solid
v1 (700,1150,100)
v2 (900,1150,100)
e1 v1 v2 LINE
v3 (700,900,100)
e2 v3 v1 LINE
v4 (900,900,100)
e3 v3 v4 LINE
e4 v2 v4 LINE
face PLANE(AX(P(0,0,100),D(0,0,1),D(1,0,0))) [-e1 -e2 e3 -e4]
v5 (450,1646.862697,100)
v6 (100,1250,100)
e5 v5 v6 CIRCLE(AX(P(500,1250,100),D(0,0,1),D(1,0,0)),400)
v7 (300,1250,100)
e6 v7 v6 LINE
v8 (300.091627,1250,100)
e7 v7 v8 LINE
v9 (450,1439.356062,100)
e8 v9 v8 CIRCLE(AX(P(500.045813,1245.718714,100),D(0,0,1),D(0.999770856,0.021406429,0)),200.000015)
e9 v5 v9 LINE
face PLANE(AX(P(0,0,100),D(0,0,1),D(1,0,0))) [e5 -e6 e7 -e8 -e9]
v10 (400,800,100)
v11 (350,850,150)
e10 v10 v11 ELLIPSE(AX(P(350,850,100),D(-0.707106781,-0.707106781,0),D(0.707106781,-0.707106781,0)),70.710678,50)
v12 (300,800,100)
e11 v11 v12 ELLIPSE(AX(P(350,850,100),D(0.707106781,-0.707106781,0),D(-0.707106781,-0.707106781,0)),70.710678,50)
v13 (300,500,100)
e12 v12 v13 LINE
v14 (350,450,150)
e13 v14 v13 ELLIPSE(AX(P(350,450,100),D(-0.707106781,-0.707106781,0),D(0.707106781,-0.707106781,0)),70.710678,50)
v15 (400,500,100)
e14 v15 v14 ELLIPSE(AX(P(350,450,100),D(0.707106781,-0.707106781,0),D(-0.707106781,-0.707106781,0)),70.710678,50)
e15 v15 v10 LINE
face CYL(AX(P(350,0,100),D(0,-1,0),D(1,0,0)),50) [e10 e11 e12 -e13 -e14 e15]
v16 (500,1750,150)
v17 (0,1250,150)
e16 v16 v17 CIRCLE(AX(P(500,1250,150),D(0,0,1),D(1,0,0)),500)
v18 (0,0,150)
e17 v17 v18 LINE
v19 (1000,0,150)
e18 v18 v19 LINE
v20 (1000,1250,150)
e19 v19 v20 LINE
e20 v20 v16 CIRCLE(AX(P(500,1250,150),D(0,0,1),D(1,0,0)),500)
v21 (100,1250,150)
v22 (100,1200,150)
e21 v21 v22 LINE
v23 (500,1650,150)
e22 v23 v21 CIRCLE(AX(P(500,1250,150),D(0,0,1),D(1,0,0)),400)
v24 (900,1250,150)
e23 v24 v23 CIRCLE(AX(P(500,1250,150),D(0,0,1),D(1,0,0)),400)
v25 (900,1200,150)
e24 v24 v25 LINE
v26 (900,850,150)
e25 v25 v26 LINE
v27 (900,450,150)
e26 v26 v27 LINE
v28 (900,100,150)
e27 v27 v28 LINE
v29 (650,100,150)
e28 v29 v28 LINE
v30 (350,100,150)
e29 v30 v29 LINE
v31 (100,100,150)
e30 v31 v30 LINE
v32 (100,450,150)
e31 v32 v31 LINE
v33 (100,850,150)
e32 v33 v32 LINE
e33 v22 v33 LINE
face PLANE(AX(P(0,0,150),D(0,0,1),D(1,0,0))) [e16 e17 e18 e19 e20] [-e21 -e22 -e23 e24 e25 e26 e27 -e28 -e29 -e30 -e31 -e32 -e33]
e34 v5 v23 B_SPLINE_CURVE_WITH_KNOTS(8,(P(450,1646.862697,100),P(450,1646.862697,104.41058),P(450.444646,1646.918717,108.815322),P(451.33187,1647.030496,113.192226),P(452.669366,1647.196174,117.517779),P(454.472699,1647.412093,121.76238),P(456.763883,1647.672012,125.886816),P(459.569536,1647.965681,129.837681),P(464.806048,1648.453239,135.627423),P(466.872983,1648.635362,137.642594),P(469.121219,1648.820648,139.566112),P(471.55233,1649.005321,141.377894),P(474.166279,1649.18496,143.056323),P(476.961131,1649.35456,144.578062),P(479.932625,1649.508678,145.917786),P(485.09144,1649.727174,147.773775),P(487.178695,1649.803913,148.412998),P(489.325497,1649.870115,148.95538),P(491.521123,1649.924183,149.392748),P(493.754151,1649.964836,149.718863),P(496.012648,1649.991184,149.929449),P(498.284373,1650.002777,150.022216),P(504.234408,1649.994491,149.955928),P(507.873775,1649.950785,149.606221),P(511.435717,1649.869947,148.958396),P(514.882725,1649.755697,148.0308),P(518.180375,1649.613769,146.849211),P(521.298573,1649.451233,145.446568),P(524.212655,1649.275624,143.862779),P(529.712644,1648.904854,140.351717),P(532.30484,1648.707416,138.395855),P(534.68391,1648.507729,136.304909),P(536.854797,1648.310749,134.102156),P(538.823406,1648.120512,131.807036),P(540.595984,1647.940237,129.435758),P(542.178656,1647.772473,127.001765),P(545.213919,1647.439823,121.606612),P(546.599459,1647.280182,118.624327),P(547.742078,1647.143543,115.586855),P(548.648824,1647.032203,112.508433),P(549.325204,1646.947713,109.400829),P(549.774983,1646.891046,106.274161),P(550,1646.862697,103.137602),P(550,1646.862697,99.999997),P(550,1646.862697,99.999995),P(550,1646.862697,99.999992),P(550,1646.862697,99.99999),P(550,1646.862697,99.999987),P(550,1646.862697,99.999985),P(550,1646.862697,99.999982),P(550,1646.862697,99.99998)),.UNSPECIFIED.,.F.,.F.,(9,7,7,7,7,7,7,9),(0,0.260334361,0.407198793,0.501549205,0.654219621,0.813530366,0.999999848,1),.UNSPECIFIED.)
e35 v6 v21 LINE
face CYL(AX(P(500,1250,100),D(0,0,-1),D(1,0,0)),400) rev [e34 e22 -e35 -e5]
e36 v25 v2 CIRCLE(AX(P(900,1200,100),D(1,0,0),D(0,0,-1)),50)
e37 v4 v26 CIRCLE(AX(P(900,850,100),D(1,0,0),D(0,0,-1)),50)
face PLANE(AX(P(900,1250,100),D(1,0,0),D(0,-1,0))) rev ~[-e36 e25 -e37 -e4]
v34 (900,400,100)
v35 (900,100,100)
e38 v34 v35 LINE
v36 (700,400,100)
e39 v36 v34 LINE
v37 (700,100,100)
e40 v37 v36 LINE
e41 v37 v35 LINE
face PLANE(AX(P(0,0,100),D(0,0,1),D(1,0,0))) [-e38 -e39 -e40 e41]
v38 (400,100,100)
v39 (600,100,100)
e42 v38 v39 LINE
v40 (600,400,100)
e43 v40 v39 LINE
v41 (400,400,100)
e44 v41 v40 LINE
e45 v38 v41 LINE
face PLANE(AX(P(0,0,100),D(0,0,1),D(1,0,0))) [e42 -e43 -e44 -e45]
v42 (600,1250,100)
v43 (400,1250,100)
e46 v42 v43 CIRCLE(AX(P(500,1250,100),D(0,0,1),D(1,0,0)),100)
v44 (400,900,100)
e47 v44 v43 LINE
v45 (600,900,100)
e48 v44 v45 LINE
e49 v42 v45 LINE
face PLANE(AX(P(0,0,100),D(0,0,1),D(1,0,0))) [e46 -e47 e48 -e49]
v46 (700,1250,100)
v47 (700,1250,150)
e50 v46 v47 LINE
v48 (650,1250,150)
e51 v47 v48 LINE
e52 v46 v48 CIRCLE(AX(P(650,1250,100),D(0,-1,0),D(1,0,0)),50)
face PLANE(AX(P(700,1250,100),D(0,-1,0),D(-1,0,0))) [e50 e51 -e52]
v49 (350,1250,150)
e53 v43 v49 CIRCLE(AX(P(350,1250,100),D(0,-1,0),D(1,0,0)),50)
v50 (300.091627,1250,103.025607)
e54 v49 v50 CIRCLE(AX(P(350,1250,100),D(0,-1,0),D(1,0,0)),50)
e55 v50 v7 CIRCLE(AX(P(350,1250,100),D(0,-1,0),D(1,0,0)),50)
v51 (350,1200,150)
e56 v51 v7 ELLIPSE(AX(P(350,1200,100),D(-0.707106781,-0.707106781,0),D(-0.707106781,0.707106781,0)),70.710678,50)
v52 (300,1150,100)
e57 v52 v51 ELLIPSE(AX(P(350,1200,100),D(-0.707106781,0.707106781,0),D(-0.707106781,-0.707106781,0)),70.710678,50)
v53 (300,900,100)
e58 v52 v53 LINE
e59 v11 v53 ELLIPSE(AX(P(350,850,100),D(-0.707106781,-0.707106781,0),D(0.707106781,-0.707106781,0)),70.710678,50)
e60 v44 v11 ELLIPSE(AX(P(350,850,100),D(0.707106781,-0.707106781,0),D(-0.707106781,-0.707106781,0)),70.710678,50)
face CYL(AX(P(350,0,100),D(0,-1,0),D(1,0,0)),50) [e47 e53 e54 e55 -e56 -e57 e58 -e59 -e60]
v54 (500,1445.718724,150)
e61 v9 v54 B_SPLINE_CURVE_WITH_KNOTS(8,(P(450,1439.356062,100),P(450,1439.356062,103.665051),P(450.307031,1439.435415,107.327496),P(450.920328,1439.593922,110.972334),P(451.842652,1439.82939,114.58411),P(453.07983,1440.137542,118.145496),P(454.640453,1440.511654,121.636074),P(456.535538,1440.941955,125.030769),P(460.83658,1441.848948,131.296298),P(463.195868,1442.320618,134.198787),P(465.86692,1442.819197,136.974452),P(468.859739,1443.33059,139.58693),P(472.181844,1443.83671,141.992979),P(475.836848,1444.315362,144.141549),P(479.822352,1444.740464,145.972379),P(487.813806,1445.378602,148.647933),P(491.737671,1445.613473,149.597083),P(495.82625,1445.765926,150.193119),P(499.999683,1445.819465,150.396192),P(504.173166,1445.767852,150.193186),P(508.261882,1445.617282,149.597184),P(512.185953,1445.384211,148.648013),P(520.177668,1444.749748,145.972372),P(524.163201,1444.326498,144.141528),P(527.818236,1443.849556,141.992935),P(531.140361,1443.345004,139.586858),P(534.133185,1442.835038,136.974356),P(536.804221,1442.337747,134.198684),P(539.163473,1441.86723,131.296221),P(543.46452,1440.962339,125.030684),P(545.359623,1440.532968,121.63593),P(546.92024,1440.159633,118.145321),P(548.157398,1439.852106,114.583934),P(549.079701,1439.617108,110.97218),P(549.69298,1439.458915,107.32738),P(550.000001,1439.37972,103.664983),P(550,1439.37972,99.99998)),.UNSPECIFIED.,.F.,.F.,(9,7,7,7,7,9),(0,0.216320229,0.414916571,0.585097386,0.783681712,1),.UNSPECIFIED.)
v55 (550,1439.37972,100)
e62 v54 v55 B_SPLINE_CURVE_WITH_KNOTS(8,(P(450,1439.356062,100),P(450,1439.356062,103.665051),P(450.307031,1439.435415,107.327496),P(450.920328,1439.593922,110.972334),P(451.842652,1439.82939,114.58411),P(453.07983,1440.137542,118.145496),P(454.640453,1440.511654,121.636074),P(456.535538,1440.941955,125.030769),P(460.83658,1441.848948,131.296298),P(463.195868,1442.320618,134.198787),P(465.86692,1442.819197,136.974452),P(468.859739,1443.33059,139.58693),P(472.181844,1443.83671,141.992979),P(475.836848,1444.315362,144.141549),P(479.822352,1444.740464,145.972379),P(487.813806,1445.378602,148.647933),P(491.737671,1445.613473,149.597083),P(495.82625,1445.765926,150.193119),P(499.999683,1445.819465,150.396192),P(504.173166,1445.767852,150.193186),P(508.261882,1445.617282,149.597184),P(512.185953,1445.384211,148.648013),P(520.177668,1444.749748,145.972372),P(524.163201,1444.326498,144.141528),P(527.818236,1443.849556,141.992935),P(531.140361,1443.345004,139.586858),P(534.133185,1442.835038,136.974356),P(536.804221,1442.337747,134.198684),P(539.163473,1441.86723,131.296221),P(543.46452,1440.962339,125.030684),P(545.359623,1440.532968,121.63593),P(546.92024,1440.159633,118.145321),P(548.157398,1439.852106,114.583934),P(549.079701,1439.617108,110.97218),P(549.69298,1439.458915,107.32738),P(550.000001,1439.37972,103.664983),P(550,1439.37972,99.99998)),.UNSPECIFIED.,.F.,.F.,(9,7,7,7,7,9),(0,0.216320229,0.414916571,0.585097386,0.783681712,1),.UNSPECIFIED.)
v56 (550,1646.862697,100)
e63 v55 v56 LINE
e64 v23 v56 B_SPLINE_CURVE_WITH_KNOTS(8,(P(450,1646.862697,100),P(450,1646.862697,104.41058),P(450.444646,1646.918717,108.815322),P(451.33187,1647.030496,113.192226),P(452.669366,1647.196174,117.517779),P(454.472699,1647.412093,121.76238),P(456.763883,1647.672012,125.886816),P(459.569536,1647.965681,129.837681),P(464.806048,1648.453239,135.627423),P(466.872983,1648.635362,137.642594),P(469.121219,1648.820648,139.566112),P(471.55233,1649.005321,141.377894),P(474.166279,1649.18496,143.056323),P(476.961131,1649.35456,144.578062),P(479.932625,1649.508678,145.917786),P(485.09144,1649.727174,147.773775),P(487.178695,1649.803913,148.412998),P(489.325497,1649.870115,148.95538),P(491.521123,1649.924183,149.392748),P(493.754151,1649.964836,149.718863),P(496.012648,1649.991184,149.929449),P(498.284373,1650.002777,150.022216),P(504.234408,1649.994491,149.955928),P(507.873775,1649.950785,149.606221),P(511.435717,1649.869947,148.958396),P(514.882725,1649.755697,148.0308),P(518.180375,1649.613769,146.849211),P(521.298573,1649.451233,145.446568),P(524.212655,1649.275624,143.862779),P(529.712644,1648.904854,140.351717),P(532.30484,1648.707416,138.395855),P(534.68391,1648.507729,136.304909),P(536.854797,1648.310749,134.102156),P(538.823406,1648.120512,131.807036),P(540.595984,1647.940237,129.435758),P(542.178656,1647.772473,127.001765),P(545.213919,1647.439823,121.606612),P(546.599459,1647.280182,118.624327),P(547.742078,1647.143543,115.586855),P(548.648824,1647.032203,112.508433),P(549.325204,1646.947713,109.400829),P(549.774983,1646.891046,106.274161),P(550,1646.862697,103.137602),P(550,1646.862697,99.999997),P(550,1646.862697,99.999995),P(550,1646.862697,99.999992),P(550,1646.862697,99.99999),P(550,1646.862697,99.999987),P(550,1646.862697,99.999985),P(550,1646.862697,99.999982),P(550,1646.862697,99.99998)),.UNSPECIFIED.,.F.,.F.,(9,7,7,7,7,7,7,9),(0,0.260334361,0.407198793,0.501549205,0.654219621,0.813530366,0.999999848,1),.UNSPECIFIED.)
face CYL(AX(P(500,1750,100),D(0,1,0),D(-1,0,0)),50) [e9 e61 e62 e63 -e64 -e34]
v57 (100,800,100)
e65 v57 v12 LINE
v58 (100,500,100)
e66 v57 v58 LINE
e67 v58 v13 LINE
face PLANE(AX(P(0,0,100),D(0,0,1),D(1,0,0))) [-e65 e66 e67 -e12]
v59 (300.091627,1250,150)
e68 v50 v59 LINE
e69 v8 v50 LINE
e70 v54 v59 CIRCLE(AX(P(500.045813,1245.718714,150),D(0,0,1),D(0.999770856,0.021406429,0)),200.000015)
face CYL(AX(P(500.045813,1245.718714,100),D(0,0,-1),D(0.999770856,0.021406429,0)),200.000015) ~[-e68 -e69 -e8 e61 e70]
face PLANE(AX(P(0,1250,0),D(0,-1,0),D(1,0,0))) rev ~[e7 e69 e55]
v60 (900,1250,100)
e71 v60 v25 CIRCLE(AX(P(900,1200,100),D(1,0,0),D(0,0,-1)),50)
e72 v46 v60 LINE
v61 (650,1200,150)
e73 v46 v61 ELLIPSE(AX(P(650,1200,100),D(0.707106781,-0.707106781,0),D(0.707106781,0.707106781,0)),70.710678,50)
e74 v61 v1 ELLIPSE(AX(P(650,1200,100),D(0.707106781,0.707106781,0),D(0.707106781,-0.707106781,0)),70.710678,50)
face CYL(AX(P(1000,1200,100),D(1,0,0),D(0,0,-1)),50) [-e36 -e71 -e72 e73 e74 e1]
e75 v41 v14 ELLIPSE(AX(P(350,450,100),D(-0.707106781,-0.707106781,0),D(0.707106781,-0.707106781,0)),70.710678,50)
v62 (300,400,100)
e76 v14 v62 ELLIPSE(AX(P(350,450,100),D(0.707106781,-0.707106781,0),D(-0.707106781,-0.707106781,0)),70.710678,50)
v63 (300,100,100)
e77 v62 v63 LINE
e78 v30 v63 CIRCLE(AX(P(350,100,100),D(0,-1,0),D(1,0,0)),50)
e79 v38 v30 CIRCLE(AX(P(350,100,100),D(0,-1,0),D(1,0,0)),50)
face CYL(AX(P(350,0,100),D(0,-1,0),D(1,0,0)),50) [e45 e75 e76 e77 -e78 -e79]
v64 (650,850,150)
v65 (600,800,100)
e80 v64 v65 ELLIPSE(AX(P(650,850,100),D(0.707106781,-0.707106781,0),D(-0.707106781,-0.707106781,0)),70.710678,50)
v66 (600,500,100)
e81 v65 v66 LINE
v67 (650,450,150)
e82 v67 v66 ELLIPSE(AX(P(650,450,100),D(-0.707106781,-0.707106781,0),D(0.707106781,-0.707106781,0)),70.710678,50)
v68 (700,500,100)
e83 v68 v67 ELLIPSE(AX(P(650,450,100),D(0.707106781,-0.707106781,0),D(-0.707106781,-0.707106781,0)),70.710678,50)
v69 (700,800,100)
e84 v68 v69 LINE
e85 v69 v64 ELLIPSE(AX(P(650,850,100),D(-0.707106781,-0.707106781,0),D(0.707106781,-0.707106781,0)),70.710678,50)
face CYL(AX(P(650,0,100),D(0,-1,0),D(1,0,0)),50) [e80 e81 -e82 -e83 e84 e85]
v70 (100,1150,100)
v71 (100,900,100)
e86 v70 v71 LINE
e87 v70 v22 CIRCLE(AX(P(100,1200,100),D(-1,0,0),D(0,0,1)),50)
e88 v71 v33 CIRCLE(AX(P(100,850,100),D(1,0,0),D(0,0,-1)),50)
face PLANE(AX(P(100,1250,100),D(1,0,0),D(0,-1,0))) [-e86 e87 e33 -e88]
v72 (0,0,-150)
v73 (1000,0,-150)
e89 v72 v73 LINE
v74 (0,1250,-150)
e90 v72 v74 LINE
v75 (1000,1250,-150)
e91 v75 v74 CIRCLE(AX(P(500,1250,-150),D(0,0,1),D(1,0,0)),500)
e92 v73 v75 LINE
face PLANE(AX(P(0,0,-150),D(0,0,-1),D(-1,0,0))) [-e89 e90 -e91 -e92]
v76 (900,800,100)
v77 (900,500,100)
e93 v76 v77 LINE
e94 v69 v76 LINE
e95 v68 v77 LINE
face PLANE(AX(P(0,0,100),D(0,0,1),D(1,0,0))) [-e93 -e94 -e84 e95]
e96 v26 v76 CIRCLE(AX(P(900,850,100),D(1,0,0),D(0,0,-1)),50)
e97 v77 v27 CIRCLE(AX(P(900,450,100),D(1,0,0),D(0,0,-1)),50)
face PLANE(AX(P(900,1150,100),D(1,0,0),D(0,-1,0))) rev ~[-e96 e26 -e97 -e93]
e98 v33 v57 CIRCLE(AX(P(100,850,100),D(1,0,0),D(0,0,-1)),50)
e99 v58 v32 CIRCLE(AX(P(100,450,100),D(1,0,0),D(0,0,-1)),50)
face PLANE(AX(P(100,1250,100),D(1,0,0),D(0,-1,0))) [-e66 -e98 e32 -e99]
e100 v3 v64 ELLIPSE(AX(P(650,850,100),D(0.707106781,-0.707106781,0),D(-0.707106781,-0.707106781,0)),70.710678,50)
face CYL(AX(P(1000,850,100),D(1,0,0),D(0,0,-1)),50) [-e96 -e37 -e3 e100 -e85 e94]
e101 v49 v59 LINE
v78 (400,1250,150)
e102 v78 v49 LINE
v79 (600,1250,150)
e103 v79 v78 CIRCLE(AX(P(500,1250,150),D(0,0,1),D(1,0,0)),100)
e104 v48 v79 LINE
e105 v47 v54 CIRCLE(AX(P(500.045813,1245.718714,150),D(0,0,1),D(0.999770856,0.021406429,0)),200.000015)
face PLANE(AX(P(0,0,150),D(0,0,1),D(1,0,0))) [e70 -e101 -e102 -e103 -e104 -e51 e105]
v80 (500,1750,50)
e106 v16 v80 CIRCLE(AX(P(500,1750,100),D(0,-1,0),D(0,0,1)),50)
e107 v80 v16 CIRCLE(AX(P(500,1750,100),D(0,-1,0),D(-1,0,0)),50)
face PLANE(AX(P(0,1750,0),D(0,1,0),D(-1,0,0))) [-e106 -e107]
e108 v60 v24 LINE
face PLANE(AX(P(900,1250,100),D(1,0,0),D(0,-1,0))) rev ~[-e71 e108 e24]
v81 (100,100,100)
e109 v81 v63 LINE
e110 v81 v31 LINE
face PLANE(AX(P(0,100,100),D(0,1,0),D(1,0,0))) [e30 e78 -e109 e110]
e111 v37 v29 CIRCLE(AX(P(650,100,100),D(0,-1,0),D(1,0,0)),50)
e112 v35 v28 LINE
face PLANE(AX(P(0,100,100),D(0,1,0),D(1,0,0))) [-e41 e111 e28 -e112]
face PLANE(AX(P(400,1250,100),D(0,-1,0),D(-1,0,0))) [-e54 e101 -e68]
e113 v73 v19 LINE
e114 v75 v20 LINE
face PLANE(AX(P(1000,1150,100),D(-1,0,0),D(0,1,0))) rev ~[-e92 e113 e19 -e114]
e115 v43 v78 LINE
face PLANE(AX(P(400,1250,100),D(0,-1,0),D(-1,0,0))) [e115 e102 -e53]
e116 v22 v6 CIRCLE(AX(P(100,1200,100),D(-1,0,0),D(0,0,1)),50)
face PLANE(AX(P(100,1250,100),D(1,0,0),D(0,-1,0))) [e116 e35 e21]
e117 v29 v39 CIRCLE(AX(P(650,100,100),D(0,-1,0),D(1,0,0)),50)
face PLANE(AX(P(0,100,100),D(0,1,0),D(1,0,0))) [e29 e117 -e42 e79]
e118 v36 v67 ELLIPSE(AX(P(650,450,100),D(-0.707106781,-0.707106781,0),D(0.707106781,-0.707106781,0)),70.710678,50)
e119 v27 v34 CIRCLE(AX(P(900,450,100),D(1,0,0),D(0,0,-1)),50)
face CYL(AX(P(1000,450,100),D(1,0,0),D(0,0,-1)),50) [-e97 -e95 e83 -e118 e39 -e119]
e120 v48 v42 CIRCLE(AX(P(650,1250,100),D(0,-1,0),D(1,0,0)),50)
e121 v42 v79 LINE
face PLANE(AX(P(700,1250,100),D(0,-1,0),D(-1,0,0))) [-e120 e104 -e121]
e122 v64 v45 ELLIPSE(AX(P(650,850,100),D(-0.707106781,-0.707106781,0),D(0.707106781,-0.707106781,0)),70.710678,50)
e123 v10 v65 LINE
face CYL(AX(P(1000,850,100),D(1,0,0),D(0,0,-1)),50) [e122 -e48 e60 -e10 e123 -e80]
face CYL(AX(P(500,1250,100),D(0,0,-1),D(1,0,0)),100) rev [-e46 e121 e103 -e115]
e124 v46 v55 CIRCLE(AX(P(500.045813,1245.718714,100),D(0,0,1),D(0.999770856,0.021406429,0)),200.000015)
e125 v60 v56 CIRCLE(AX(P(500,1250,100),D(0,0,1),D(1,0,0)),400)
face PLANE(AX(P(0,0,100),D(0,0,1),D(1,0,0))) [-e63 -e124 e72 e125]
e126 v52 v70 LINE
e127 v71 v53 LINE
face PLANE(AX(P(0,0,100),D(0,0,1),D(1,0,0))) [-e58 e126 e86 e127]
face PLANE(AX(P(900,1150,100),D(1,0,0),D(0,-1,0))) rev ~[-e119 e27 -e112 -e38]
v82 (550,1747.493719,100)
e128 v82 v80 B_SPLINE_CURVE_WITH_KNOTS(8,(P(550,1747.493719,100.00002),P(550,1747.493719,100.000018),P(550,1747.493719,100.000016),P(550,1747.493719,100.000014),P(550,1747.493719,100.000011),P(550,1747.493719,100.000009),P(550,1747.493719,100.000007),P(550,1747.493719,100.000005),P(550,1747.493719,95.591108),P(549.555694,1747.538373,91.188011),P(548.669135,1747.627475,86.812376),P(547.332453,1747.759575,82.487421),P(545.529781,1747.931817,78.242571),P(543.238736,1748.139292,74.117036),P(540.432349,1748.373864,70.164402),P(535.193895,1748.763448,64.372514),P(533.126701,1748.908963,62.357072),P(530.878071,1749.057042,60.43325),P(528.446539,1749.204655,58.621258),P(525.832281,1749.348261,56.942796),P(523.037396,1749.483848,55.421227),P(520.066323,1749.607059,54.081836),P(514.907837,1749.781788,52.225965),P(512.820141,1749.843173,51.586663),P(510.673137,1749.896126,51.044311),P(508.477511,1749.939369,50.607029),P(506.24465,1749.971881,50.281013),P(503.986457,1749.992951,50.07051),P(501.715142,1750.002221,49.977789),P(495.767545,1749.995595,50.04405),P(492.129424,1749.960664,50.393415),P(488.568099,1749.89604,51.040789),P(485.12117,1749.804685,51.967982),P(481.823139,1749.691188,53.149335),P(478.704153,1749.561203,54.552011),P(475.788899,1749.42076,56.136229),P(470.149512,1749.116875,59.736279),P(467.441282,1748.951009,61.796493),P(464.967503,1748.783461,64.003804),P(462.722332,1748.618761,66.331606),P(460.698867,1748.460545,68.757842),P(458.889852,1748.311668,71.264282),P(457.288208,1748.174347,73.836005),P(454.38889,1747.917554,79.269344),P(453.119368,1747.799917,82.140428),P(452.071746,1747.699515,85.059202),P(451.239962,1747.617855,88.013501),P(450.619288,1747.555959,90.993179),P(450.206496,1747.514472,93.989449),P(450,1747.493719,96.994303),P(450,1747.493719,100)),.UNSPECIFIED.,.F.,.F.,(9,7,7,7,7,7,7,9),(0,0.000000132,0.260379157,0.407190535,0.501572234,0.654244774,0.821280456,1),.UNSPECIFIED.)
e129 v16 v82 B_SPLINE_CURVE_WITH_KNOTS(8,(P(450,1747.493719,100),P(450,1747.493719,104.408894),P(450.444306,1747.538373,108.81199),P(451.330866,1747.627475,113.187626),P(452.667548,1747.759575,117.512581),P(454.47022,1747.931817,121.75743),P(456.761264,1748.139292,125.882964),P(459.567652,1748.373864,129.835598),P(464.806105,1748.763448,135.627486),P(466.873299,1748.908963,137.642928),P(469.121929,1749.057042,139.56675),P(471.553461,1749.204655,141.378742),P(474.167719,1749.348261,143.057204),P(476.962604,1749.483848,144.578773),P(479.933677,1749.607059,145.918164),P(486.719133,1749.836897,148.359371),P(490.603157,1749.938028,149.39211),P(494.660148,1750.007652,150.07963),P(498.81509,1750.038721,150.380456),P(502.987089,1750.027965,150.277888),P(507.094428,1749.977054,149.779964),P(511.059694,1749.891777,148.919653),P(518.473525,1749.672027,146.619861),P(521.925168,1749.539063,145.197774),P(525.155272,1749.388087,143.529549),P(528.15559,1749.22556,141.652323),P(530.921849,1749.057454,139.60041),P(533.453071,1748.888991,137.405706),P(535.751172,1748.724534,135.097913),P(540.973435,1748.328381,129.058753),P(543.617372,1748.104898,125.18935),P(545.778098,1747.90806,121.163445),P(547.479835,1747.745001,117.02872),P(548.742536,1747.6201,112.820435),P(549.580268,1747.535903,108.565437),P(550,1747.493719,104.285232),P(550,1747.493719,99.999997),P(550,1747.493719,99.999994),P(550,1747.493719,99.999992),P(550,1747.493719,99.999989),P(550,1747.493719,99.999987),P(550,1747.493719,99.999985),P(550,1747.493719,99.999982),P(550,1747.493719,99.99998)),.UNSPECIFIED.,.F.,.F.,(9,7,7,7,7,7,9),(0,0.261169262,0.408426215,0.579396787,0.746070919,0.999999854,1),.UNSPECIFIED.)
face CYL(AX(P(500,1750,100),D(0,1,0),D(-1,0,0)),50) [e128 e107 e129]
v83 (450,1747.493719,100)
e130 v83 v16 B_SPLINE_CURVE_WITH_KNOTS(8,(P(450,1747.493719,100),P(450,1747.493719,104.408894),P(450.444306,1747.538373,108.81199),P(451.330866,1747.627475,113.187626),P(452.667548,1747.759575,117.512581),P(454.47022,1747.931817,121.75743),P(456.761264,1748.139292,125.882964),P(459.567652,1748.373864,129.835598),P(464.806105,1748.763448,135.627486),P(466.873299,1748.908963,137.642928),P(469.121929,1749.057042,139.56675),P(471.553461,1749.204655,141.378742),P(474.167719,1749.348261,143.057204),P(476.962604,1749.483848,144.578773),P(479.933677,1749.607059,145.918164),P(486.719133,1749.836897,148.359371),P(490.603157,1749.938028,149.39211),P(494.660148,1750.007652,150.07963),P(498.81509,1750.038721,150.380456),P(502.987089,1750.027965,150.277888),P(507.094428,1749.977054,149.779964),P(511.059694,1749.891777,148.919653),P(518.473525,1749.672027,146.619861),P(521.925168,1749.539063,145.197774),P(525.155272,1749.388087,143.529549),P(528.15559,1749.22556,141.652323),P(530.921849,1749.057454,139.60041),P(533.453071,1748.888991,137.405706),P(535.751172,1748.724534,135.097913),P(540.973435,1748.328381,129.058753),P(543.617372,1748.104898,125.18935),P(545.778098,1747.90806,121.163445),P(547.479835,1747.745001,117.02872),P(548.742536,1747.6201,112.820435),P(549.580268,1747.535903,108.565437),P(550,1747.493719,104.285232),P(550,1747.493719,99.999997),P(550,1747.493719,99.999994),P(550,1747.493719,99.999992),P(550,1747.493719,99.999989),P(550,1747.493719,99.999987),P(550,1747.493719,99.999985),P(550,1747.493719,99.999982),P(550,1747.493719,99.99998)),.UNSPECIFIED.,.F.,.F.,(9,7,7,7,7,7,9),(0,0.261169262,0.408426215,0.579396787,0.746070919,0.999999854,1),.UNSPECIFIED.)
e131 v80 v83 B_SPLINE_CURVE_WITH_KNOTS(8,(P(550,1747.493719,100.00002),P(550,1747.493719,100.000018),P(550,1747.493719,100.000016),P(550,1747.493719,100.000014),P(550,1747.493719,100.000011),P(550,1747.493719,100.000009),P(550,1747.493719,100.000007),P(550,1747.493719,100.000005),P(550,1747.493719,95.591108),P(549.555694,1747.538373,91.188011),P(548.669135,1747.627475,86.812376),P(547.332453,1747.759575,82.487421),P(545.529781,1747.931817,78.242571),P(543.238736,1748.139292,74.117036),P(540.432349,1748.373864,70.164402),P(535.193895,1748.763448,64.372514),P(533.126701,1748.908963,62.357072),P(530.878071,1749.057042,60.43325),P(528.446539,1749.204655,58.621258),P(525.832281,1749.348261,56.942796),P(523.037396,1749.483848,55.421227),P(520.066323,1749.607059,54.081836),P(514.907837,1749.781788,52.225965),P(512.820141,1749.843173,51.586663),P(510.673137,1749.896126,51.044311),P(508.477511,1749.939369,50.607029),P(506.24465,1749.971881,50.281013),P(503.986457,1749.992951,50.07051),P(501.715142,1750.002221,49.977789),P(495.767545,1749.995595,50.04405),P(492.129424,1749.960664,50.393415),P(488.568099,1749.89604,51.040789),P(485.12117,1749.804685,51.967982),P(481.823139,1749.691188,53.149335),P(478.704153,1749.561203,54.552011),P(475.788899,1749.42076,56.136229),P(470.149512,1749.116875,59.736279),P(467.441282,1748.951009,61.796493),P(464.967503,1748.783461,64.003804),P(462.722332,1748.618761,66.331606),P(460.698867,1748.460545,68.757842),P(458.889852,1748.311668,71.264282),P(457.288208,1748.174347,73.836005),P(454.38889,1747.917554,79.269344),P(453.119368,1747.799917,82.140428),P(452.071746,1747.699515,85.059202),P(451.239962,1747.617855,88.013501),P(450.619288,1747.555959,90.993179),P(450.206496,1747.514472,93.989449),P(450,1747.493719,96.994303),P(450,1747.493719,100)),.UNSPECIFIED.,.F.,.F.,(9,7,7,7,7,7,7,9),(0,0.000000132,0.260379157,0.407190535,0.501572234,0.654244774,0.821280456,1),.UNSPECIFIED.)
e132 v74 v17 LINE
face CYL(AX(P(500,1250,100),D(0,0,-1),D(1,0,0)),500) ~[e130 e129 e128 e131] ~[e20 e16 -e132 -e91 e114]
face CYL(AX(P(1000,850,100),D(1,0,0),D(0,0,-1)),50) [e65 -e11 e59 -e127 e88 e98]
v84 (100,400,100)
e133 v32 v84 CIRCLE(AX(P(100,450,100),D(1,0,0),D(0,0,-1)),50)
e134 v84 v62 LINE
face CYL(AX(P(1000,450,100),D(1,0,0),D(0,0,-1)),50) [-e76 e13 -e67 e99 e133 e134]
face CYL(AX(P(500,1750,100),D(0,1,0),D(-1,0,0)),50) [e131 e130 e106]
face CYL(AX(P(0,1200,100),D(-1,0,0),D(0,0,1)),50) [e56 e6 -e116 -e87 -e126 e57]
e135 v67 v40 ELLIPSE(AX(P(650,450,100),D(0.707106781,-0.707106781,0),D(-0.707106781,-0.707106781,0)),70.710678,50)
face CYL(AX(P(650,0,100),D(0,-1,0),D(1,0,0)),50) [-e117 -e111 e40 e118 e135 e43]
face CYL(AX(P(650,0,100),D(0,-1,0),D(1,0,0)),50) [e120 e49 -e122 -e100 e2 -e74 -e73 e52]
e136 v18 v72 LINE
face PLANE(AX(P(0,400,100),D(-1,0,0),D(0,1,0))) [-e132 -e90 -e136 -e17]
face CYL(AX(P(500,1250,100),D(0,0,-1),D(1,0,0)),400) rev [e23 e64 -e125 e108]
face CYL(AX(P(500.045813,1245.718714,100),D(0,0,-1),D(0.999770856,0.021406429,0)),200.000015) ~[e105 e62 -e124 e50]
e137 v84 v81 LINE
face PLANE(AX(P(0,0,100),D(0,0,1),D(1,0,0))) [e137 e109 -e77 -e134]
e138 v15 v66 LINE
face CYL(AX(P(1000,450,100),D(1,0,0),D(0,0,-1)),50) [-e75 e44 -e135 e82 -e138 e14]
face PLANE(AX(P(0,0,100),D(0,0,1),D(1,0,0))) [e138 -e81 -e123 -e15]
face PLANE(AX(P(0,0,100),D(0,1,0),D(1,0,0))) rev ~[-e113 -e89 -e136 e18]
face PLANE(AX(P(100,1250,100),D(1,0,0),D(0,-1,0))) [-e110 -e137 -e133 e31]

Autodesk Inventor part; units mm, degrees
ref_plane "YZ Plane" through (0, 0, 0) normal (1, 0, 0) x (0, 1, 0)
ref_plane "XY Plane" through (0, 0, 0) normal (0, 0, 1) x (1, 0, 0)
sketch "Sketch1" plane through (0, 0, 0) normal (0, 0, 1) x (1, 0, 0)
  line L0 (0, 0) -> (1000, 0)
  line L1 (1000, 0) -> (1000, 1250)
  line L2 (1000, 1250) -> (0, 1250)
  line L3 (0, 1250) -> (0, 0)
  dimension "d0" = 1000
  dimension "d1" = 1250
extrude "Extrusion1" add sketch "Sketch1" along normal blind 100
sketch "Sketch2" plane through (0, 0, 0) normal (0, 0, -1) x (-1, 0, 0)
  line L0 (-1000, 1250) -> (0, 1250) projected
  circle A0 centre (-500, 1250) radius 500
  point P0 (0, 0)
  dimension "d4" = 1000
extrude "Extrusion2" add sketch "Sketch2" against normal blind 100 contours A0 L0 picked at (-386.6625, 1415.594)
sketch "Sketch3" plane through (0, 0, 0) normal (0, -1, 0) x (1, 0, 0)
  line L0 (0, 100) -> (1000, 100) projected
  circle A0 centre (350, 100) radius 50
  circle A1 centre (650, 100) radius 50
  line L1 (0, 0) -> (0, 100) projected
  line L2 (1000, 0) -> (1000, 100) projected
  point P0 (1000, 50)
  dimension "d7" = 100
  dimension "d8" = 100
  dimension "d9" = 350
  dimension "d10" = 350
extrude "Extrusion3" add sketch "Sketch3" against normal blind 1250
sketch "Sketch4" plane through (1000, 0, 100) normal (1, 0, 0) x (0, 0, -1)
  line L0 (0, 1250) -> (0, 0) projected
  circle A0 centre (0, 450) radius 50
  circle A1 centre (0, 850) radius 50
  line L1 (100, 0) -> (0, 0) projected
  line L2 (100, 1250) -> (0, 1250) projected
  dimension "d13" = 100
  dimension "d14" = 100
  dimension "d15" = 450
  dimension "d16" = 400
  dimension "d17" = 400
extrude "Extrusion4" add sketch "Sketch4" against normal blind 1000
sketch "Sketch5" plane through (0, 0, 100) normal (0, 0, 1) x (1, 0, 0)
  line L0 (700, 1250) -> (600, 1250) projected
  line L1 (400, 1250) -> (300, 1250) projected
  arc A0 (600, 1250) -> (400, 1250) centre (500, 1250) ccw
  arc A1 (700, 1250) -> (300.0458, 1245.6914) centre (500.0458, 1245.7187) ccw
  point P0 (0, 0)
  point P1 (300.0917, 1250)
  dimension "d20" = 100
  dimension "d21" = 200
extrude "Extrusion5" add sketch "Sketch5" along normal blind 50
sketch "Sketch6" plane through (1000, 0, 100) normal (1, 0, 0) x (0, 0, -1)
  line L0 (0, 900) -> (0, 1250) projected
  circle A0 centre (0, 1200) radius 50
  line L1 (100, 1250) -> (0, 1250) projected
  point P0 (100, 0)
  dimension "d24" = 100
  dimension "d25" = 50
extrude "Extrusion6" add sketch "Sketch6" against normal up to surface
sketch "Sketch7" plane through (0, 0, 0) normal (-1, 0, 0) x (0, 0, 1)
  line L0 (100, 900) -> (100, 1250) projected
  circle A0 centre (100, 1200) radius 50
  line L1 (0, 1250) -> (100, 1250) projected
  point P0 (0, 0)
  dimension "d28" = 100
  dimension "d29" = 50
extrude "Extrusion7" add sketch "Sketch7" against normal up to surface
ref_plane "Work Plane1" through (0, 1750, 0) normal (0, 1, 0) x (-1, 0, 0)
sketch "Sketch8" plane through (0, 1750, 0) normal (0, 1, 0) x (-1, 0, 0)
  line L0 (-400, 100) -> (-600, 100) projected
  circle A0 centre (-500, 100) radius 50
  point P0 (0, 0)
  dimension "d33" = 100
extrude "Extrusion8" add sketch "Sketch8" against normal up to surface
sketch "Sketch9" plane through (0, 0, 100) normal (0, 0, 1) x (1, 0, 0)
  line L0 (1000, 1150) -> (700, 1150) projected
  line L1 (900, 1150) -> (900, 902.0075)
  line L2 (1000, 900) -> (1000, 1150) projected
  line L3 (1000, 800) -> (700, 800) projected
  line L4 (900, 800) -> (900, 0)
  line L5 (0, 0) -> (1000, 0) projected
  line L6 (100, 0) -> (100, 1250)
  line L7 (0, 1250) -> (300, 1250) projected
  line L8 (0, 800) -> (0, 500) projected
  arc A0 (1000, 1250) -> (0, 1250) centre (500, 1250) ccw projected
  line L9 (0, 1250) -> (0, 0) projected
  line L10 (0, 1250) -> (0, 0)
  line L11 (700, 1250) -> (1000, 1250) projected
  line L12 (1000, 1250) -> (1000, 0)
  arc A1 (900, 1250) -> (100, 1250) centre (500, 1250) ccw
  point P0 (900, 1026.0038)
  point P1 (100, 625)
  dimension "d36" = 100
  dimension "d37" = 100
extrude "Extrusion9" add sketch "Sketch9" along normal blind 50 contours L11 A1 L7 A0
sketch "Sketch10" plane through (0, 0, 100) normal (0, 0, 1) x (1, 0, 0)
  arc A0 (900, 1250) -> (550, 1646.8627) centre (500, 1250) ccw projected
  line L0 (900, 1250) -> (900, 0)
  line L1 (1000, 0) -> (1000, 1250) projected
  line L2 (1000, 1250) -> (1000, 0)
  line L3 (1000, 1150) -> (700, 1150) projected
  line L4 (900, 1150) -> (1000, 1150)
  line L5 (0, 0) -> (1000, 0) projected
  line L6 (900, 0) -> (1000, 0)
extrude "Extrusion10" add sketch "Sketch10" along normal blind 50
sketch "Sketch11" plane through (0, 0, 100) normal (0, 0, 1) x (1, 0, 0)
  line L0 (100, 1250) -> (100, 0)
  line L1 (0, 0) -> (300, 0) projected
  line L2 (0, 0) -> (0, 1250)
  line L3 (0, 400) -> (0, 0) projected
  line L4 (0, 1250) -> (100, 1250)
  line L5 (0, 0) -> (100, 0)
extrude "Extrusion11" add sketch "Sketch11" along normal blind 50
sketch "Sketch12" plane through (0, 0, 100) normal (0, 0, 1) x (1, 0, 0)
  line L0 (700, 1250) -> (900, 1250) projected
  line L1 (900, 1250) -> (900, 1150)
  line L2 (900, 1150) -> (1000, 1150)
  line L3 (900, 1250) -> (1000, 1250) projected
  line L4 (1000, 1150) -> (1000, 1250)
  line L5 (1000, 1250) -> (900, 1250)
  point P0 (0, 0)
extrude "Extrusion12" add sketch "Sketch12" along normal blind 50
sketch "Sketch13" plane through (0, 0, 100) normal (0, 0, 1) x (1, 0, 0)
  line L0 (0, 1250) -> (0, 0) projected
  line L1 (0, 100) -> (1042, 100)
  line L2 (400, 0) -> (600, 0) projected
  line L3 (0, 0) -> (100, 0) projected
  line L4 (0, 100) -> (0, 0)
  line L5 (900, 0) -> (1000, 0) projected
  line L6 (0, 0) -> (1000, 0)
  line L7 (1000, 0) -> (1000, 100)
  line L8 (1000, 0) -> (1000, 1250) projected
  point P0 (500, 0)
  point P1 (521, 100)
  dimension "d46" = 100
extrude "Extrusion13" add sketch "Sketch13" along normal blind 50
sketch "Sketch14" plane through (0, 0, 0) normal (0, 0, -1) x (-1, 0, 0)
  arc A0 (-500, 1750) -> (-1000, 1250) centre (-500, 1250) ccw projected
  line L0 (-1000, 0) -> (-1000, 1250) projected
  line L1 (-1000, 1250) -> (-1000, 0)
  line L2 (0, 0) -> (-1000, 0) projected
  line L3 (-1000, 0) -> (0, 0)
  arc A1 (0, 1250) -> (-500, 1750) centre (-500, 1250) ccw projected
  line L4 (0, 0) -> (0, 1250)
  line L5 (0, 1250) -> (-1000, 1250)
  circle A2 centre (-500, 1250) radius 500
extrude "Extrusion14" add sketch "Sketch14" along normal blind 150
properties part number "WindowofShip11"
